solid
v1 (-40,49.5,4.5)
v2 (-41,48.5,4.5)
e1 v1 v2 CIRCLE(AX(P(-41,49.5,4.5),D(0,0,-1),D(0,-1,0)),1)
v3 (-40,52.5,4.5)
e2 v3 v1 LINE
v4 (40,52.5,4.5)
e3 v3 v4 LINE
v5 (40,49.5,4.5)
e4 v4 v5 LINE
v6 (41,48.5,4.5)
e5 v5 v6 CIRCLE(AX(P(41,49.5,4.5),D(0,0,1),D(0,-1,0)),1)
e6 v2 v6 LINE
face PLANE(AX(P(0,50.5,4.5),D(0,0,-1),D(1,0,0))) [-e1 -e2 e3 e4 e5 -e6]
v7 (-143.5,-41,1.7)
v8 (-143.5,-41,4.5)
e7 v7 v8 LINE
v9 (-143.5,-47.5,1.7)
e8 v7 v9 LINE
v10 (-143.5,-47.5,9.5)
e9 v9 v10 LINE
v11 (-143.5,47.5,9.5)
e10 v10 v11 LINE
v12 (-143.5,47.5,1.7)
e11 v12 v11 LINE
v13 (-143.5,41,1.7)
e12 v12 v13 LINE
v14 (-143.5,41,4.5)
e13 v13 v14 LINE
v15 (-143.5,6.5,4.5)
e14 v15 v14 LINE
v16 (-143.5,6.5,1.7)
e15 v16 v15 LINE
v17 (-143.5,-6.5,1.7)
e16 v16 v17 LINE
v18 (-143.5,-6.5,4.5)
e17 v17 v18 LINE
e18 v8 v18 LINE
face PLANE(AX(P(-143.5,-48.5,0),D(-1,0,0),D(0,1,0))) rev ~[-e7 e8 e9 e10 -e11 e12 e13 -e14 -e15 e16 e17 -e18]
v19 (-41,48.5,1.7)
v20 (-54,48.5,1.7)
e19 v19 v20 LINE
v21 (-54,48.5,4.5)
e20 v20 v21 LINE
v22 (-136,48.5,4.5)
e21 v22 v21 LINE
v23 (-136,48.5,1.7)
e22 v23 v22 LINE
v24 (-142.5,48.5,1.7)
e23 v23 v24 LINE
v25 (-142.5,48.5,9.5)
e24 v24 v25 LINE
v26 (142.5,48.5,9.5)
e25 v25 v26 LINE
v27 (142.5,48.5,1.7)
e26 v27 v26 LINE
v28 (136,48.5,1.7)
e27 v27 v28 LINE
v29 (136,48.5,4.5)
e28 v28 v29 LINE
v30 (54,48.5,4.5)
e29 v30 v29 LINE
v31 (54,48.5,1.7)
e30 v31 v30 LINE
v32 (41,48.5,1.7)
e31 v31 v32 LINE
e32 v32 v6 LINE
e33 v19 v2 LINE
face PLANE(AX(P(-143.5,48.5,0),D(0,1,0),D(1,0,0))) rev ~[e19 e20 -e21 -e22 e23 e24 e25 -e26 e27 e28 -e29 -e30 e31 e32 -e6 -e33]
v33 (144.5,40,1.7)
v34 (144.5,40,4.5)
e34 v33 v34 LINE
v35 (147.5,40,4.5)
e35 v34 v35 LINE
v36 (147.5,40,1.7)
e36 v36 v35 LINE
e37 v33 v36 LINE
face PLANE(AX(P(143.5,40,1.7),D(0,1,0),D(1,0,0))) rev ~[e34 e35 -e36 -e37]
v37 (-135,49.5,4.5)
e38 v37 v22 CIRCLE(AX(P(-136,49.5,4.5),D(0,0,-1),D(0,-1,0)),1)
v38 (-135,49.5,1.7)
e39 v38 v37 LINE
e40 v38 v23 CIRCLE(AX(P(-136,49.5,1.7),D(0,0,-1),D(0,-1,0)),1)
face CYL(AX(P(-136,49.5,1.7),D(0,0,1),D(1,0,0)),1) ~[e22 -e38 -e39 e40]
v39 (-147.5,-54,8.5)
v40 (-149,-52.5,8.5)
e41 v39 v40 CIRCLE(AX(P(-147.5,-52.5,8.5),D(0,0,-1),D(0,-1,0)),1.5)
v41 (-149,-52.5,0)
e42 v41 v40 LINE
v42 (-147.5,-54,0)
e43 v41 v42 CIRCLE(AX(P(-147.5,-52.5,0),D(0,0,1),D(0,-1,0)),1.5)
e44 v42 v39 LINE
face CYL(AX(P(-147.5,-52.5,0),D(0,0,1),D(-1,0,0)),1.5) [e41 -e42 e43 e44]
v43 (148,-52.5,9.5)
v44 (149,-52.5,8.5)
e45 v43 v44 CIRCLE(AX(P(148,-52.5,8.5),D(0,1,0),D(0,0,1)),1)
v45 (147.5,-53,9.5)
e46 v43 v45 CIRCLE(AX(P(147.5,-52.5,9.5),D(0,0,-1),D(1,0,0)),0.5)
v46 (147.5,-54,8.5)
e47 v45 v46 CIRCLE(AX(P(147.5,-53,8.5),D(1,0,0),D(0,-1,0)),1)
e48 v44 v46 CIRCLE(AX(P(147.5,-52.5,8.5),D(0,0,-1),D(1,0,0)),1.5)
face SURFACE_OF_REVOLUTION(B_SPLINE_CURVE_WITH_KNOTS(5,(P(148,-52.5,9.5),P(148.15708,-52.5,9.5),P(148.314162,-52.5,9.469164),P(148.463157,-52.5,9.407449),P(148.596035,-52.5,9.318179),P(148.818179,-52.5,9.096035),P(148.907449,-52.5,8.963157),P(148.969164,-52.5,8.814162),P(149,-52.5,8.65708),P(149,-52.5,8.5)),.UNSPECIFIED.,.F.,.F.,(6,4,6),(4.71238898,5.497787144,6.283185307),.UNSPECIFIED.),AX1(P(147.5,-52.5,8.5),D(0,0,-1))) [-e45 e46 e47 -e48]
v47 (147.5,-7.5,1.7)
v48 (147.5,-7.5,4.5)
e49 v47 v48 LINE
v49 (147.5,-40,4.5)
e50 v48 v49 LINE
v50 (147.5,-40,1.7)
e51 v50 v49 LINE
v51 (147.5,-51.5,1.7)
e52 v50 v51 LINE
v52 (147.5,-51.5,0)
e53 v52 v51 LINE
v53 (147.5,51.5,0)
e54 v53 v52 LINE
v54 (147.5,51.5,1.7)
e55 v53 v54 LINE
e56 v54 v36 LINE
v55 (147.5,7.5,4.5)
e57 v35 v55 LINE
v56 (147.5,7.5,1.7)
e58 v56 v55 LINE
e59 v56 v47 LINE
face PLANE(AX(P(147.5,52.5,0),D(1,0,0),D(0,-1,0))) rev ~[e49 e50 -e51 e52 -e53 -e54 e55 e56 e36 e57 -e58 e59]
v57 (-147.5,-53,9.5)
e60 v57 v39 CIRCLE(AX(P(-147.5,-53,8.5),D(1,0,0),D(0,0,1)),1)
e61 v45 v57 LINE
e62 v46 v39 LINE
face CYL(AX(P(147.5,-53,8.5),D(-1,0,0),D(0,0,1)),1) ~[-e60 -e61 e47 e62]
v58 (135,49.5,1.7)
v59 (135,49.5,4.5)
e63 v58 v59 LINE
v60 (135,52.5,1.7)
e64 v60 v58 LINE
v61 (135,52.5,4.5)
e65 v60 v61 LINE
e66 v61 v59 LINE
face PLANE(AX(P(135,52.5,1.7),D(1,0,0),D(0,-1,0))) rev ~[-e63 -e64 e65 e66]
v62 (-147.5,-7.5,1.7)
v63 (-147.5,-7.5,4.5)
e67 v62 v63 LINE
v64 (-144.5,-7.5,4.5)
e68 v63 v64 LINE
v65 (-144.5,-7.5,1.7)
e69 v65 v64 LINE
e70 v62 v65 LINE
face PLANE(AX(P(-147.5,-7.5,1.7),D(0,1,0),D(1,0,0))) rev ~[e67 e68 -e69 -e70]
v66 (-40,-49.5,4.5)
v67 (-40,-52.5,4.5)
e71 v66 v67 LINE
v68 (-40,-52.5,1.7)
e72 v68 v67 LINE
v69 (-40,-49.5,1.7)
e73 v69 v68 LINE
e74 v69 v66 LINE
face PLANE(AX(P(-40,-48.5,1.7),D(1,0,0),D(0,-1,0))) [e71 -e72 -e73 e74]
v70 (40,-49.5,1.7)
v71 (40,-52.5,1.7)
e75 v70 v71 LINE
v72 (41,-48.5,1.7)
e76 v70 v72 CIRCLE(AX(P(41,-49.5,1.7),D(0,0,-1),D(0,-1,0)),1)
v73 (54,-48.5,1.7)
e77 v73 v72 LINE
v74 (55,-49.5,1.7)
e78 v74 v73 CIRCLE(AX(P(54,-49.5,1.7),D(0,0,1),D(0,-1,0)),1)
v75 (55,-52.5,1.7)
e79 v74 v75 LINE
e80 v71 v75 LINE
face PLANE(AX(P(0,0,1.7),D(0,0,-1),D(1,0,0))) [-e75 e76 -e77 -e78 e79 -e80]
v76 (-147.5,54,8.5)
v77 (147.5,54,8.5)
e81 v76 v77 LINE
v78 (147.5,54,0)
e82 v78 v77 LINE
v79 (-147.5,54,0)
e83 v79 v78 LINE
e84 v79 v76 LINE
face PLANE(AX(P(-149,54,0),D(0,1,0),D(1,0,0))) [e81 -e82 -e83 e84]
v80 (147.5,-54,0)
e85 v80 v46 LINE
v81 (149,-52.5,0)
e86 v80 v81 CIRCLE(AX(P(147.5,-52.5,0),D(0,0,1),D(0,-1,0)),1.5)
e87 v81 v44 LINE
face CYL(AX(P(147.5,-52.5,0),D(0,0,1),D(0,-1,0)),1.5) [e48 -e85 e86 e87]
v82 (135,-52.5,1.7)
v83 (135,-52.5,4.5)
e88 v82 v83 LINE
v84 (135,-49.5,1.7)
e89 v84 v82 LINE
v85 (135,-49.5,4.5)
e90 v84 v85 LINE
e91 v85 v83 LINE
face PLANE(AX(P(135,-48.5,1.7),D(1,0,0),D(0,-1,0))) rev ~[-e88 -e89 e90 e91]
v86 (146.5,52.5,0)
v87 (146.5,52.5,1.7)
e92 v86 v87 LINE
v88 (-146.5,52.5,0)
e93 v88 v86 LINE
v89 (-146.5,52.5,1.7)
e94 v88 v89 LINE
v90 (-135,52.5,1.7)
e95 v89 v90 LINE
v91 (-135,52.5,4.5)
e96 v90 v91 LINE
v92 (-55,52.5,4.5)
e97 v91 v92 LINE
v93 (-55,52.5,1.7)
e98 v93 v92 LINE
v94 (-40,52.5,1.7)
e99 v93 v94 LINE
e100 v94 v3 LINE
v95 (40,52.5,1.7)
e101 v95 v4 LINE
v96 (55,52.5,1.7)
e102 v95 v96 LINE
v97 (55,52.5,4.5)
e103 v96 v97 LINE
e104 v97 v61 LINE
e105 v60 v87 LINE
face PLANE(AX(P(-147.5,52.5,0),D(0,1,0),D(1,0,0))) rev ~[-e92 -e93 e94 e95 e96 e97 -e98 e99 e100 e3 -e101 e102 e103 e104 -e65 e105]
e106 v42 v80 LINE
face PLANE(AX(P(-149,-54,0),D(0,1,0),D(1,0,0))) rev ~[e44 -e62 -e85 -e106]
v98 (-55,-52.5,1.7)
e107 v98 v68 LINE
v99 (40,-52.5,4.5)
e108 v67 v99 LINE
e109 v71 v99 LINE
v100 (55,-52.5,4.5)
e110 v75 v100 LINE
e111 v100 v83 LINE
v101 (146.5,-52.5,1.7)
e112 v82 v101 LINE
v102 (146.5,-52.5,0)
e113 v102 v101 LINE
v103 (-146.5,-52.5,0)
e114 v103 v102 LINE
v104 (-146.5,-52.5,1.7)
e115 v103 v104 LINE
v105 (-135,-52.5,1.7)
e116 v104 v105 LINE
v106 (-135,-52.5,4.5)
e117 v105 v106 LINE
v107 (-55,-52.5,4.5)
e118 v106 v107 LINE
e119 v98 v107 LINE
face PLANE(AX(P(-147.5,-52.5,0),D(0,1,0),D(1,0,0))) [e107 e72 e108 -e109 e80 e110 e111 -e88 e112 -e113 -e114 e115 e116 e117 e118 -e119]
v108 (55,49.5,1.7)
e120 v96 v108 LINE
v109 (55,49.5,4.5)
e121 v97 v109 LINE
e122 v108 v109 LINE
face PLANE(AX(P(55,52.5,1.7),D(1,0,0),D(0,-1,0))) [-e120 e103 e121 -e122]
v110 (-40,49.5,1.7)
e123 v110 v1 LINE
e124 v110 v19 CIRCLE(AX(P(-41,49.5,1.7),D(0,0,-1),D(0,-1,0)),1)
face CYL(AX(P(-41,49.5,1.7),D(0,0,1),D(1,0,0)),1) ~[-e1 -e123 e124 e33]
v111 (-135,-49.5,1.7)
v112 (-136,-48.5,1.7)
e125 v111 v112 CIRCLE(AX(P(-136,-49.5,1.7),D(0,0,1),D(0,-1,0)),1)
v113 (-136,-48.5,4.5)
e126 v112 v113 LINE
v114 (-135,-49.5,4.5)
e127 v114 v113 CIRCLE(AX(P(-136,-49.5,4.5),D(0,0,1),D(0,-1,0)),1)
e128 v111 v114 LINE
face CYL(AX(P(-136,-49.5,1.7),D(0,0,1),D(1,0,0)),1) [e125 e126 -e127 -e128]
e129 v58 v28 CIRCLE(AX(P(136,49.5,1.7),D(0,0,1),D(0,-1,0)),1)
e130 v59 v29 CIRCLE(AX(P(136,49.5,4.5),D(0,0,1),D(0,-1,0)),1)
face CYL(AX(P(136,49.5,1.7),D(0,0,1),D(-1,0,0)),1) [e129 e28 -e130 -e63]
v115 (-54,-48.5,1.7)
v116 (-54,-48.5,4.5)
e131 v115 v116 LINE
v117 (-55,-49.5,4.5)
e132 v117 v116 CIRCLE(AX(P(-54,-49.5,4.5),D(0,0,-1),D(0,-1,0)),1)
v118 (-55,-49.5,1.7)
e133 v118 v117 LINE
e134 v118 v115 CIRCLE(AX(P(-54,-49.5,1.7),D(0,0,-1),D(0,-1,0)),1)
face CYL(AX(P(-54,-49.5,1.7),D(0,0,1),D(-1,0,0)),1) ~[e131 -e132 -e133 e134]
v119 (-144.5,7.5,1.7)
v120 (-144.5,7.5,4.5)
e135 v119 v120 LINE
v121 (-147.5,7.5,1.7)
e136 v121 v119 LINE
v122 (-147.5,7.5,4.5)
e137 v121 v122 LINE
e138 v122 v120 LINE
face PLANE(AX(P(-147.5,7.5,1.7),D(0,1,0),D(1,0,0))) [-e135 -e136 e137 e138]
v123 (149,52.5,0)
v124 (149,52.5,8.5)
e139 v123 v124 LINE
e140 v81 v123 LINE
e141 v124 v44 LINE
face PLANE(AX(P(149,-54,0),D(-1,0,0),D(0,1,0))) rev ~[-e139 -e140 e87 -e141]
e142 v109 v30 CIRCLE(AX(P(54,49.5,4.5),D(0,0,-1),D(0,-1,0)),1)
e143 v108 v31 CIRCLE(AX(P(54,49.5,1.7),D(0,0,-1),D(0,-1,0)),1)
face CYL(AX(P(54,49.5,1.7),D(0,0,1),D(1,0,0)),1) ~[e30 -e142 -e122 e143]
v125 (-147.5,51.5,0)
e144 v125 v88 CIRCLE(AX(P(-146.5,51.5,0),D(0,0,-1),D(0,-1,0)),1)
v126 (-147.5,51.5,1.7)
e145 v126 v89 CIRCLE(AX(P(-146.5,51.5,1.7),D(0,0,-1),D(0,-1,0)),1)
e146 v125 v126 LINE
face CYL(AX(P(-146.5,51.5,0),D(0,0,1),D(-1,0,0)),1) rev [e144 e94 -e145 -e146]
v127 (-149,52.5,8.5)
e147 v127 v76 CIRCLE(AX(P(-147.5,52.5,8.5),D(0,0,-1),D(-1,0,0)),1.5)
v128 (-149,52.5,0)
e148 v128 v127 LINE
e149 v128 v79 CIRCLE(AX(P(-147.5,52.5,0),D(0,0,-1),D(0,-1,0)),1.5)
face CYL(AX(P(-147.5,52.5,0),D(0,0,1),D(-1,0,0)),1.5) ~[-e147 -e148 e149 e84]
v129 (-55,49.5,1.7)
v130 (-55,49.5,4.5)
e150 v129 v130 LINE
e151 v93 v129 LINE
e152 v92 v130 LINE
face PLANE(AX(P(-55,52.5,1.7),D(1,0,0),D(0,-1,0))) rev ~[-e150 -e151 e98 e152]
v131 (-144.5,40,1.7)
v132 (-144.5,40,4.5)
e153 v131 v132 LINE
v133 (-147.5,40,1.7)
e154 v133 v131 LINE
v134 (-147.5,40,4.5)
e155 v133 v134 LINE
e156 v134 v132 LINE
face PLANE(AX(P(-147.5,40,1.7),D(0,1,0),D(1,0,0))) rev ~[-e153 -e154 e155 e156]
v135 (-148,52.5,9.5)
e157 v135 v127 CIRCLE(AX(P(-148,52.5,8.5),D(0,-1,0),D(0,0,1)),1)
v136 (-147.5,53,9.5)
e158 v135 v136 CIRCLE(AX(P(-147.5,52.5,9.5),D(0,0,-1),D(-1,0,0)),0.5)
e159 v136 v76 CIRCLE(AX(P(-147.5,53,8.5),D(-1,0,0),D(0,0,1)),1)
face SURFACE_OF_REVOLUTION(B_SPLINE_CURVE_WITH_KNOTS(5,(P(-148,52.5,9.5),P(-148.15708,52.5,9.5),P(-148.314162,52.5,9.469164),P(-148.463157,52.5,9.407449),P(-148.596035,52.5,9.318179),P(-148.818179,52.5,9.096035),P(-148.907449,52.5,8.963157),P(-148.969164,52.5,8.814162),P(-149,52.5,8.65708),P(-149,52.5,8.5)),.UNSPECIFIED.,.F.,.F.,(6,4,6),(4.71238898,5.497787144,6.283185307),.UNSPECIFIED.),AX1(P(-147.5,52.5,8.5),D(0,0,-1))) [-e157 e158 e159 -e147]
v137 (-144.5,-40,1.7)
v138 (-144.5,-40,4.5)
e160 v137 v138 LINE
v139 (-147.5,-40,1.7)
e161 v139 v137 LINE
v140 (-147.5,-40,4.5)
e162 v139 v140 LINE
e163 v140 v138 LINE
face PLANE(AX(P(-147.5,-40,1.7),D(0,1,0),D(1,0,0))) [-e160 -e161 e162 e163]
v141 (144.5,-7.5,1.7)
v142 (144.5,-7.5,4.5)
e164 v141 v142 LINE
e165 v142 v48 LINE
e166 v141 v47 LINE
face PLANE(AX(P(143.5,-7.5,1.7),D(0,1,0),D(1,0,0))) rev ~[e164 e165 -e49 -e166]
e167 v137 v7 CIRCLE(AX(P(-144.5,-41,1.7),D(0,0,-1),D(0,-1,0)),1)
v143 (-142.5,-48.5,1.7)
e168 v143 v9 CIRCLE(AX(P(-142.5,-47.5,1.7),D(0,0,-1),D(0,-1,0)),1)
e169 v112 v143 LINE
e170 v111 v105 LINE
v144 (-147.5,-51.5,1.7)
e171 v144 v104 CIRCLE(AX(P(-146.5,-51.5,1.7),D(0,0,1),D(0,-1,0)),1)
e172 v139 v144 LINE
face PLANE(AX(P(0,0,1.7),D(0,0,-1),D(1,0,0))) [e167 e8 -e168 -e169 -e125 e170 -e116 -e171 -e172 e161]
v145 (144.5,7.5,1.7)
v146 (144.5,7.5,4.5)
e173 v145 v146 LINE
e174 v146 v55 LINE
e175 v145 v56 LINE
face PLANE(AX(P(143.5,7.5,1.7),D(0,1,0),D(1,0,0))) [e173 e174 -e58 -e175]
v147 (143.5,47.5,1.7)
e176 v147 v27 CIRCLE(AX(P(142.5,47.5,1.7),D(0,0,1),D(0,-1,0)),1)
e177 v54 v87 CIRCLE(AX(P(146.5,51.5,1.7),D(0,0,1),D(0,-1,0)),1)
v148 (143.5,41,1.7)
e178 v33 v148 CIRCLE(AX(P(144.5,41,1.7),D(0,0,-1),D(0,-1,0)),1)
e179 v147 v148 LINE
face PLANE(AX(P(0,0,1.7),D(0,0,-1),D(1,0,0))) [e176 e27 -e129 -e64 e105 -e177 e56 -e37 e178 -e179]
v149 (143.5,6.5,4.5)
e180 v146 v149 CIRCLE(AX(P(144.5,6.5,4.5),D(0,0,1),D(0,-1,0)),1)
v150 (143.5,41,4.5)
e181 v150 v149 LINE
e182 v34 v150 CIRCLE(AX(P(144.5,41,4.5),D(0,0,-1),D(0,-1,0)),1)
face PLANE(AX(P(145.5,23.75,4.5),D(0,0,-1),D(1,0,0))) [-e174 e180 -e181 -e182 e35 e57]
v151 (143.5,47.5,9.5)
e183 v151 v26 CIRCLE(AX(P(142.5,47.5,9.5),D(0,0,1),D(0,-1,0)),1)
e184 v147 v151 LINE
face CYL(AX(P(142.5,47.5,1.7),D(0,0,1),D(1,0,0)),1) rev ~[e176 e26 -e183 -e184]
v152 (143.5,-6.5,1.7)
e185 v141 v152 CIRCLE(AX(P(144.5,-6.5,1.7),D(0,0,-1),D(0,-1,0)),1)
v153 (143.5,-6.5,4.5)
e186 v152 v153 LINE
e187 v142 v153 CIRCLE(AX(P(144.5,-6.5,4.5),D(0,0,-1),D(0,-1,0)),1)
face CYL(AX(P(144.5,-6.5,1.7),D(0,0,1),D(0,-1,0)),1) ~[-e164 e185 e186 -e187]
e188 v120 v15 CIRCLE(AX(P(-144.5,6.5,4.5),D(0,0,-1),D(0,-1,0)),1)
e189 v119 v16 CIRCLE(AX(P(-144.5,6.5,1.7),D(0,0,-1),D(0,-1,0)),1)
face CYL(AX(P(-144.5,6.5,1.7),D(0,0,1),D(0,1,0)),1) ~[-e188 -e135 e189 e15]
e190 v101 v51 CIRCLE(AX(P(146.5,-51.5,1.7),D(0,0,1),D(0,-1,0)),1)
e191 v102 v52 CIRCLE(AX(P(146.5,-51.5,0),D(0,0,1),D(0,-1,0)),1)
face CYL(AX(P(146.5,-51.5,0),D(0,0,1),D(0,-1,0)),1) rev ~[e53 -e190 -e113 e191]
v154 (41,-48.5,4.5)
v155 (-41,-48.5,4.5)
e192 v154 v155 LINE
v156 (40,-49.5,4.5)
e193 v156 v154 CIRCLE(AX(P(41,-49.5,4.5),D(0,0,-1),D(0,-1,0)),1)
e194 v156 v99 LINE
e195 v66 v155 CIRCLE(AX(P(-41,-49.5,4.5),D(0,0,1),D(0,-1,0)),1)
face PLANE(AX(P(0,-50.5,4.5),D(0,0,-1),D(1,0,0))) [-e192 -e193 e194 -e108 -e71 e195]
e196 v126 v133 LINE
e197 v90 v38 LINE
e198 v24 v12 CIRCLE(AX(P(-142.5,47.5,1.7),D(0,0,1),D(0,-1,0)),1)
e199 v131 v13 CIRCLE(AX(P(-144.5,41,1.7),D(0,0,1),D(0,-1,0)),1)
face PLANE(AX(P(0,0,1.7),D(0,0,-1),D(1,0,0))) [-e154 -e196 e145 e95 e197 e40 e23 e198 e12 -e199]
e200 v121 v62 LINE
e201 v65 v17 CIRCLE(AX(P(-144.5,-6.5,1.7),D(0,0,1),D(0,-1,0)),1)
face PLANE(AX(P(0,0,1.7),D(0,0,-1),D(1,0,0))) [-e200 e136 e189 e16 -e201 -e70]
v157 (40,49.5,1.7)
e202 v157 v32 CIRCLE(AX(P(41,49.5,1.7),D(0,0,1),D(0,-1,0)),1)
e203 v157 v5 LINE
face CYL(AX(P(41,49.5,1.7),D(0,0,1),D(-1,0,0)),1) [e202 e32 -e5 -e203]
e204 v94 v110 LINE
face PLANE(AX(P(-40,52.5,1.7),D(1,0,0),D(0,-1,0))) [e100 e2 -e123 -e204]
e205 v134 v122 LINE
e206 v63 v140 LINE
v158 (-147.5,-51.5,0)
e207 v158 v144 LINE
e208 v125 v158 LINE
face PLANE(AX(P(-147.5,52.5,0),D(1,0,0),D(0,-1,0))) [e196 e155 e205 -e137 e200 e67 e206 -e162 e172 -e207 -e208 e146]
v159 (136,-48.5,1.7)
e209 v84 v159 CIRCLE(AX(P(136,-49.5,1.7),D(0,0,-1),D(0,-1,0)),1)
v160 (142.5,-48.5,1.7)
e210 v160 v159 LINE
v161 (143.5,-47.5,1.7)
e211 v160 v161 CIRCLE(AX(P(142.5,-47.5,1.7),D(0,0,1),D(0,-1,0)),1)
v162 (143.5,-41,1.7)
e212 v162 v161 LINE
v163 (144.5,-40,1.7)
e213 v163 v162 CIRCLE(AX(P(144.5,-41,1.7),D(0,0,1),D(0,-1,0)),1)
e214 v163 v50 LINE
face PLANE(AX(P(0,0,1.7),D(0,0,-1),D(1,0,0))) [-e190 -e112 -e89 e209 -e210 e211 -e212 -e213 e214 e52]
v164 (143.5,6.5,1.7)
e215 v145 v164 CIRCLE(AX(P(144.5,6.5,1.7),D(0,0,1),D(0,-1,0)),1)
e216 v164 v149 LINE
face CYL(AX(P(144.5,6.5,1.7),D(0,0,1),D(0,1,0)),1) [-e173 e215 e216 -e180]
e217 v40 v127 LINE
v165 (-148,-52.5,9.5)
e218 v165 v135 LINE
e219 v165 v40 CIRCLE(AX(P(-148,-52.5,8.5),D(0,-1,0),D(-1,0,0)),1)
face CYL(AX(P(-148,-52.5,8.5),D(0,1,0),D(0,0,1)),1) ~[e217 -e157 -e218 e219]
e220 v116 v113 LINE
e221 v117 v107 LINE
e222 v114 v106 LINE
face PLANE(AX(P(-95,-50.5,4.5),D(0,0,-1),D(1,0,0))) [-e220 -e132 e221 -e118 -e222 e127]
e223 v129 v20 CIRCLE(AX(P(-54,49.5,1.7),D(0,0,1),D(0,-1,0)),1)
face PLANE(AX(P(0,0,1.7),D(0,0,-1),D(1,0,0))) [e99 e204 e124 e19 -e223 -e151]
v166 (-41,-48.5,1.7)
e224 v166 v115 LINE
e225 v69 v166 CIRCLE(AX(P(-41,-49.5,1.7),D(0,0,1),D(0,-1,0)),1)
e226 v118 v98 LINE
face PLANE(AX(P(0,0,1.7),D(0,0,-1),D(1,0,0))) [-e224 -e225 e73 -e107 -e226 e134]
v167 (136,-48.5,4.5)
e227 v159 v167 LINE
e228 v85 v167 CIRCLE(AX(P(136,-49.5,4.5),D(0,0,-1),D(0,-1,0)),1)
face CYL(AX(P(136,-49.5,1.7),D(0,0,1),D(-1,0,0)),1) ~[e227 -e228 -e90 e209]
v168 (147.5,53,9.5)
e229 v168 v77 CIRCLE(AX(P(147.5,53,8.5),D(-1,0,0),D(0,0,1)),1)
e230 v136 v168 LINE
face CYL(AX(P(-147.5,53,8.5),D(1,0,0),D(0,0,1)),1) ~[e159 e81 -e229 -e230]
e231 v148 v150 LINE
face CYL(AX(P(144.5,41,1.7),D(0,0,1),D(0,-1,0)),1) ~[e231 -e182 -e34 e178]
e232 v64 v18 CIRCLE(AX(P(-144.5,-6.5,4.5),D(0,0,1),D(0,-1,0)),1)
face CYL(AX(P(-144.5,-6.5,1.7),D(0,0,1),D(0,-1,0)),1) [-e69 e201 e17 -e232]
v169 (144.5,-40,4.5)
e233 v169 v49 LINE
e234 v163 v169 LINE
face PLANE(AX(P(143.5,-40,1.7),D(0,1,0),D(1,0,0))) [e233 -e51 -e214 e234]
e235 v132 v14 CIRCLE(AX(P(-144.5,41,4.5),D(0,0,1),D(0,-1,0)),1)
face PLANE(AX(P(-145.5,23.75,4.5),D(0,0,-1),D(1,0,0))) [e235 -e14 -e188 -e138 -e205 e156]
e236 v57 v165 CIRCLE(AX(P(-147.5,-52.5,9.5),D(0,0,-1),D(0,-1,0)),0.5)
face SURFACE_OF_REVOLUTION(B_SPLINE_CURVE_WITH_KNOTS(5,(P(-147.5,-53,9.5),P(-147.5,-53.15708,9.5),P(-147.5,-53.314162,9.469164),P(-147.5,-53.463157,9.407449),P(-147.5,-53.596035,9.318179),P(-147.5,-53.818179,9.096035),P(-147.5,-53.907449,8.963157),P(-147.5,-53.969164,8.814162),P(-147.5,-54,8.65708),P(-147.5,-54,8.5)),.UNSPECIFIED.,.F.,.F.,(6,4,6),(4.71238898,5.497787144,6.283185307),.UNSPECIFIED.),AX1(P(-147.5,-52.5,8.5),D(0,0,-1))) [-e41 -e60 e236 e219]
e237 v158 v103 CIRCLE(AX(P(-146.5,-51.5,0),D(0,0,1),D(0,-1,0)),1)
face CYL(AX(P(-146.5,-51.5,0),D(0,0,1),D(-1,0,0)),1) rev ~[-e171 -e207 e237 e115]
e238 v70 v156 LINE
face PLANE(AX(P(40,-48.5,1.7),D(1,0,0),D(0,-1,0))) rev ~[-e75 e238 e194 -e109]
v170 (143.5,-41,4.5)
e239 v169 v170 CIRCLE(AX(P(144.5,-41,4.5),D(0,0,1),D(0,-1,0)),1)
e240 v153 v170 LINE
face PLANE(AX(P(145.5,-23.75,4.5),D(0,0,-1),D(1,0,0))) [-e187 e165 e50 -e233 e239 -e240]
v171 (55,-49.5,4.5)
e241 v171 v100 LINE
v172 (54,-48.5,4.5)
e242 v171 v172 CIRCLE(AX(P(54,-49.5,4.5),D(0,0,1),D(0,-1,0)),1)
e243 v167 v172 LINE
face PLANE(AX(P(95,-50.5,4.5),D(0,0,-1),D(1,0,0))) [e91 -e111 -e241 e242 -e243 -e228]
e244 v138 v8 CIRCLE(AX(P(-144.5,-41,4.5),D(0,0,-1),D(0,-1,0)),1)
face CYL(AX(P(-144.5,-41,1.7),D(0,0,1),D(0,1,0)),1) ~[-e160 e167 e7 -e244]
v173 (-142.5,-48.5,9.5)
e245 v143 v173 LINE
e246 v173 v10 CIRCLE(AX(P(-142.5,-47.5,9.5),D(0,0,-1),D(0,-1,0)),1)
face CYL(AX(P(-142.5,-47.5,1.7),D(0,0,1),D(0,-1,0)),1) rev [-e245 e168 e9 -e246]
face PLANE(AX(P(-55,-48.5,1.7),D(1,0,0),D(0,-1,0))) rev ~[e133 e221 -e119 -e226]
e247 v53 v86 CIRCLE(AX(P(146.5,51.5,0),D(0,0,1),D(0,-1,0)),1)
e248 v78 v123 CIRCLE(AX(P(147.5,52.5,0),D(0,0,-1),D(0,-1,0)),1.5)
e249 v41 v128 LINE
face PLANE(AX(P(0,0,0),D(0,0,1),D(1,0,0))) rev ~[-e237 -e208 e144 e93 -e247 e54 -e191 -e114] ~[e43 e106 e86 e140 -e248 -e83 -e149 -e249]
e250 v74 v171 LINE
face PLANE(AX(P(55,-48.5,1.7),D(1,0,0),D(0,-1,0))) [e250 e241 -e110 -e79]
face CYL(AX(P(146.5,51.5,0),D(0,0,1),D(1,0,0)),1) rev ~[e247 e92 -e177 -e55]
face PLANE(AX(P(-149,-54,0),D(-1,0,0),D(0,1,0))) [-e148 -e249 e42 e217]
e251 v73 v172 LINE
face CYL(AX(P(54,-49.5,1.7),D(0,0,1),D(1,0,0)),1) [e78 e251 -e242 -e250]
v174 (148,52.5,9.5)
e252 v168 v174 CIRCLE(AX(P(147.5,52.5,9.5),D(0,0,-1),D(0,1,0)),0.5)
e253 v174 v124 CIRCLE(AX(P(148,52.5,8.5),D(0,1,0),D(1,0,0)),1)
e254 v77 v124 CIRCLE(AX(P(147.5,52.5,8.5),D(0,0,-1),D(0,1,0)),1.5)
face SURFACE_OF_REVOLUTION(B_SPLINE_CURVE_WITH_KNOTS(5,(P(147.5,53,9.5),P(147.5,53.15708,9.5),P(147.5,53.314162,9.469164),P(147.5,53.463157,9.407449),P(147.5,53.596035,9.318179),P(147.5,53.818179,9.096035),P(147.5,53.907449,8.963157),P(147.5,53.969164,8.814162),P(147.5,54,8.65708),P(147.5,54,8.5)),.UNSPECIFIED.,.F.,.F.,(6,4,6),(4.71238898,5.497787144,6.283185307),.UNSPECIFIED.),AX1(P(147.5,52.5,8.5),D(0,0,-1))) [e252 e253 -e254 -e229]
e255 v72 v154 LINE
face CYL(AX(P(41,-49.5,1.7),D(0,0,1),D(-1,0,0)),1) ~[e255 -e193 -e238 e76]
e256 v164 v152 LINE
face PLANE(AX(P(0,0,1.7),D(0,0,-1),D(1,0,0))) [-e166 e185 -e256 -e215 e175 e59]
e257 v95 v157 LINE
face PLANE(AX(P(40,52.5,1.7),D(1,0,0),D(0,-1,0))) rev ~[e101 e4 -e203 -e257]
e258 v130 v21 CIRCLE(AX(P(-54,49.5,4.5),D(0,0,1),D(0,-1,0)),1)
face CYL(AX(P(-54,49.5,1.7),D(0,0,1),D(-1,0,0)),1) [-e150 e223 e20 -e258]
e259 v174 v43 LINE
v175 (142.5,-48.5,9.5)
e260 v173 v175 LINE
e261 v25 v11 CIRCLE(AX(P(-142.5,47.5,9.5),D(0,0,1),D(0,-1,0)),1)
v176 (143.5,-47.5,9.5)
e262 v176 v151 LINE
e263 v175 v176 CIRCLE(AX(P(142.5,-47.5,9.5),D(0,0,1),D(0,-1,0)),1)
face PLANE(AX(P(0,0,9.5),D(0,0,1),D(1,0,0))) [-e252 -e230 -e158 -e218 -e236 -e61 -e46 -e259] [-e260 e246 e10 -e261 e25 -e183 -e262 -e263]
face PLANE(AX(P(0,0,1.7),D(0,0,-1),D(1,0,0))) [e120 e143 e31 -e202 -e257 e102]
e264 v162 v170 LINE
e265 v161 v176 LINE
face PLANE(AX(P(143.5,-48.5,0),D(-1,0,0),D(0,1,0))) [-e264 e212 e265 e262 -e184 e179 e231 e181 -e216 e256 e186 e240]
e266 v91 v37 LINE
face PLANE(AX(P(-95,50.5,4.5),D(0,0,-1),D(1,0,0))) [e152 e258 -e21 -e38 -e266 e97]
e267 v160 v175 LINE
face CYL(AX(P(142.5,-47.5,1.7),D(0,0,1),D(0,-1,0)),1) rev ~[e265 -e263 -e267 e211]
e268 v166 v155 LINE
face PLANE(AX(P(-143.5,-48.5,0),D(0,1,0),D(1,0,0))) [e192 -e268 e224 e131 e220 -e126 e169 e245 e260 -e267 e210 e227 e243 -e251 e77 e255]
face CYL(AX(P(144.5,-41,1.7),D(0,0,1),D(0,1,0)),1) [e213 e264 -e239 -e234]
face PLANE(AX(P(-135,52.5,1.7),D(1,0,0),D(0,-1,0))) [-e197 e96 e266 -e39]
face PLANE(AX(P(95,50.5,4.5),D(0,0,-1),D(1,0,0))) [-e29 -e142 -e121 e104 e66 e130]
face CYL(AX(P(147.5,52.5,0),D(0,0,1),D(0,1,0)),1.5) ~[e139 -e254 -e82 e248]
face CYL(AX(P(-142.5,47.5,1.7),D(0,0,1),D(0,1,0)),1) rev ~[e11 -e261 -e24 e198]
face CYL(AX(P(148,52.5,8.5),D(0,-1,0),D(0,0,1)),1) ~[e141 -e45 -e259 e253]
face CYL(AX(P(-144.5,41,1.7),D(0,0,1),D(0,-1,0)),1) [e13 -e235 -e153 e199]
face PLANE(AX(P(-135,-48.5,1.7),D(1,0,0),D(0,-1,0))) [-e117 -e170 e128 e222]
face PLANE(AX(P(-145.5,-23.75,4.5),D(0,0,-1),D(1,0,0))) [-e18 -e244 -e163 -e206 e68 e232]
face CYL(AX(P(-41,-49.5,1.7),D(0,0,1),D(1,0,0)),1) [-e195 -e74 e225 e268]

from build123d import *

# Parameters (mm, degrees)
SKETCH001_W     = 298
SKETCH001_H     = 108
SKETCH001_W_2   = 287
SKETCH001_H_2   = 97
PAD_DEPTH       = 9.5
SKETCH002_W     = 295
SKETCH002_H     = 105
POCKET_DEPTH    = 1.7
SKETCH003_W     = 80
SKETCH003_H     = 4
POCKET001_DEPTH = 2.8
SKETCH004_W     = 4
SKETCH004_H     = 32.5
POCKET002_DEPTH = 2.8
FILLET_R        = 1.5
FILLET001_R     = 1
FILLET002_R     = 1
FILLET003_R     = 1
FILLET004_R     = 1


with BuildPart() as part:
    # Sketch001 → Pad (new body)
    with BuildSketch(Plane.XY):
        Rectangle(SKETCH001_W, SKETCH001_H)
        Rectangle(SKETCH001_W_2, SKETCH001_H_2, mode=Mode.SUBTRACT)
    extrude(amount=PAD_DEPTH)

    # Sketch002 (on Face9 of Pad) → Pocket (cut)
    with BuildSketch(Plane(origin=(0, 0, 0), x_dir=(1, 0, 0), z_dir=(0, 0, -1))):
        Rectangle(SKETCH002_W, SKETCH002_H)
    extrude(amount=-POCKET_DEPTH, mode=Mode.SUBTRACT)

    # Sketch003 (on Face15 of Pocket) → Pocket001 (cut)
    with BuildSketch(Plane(origin=(0, 0, 1.7), x_dir=(1, 0, 0), z_dir=(0, 0, -1))):
        with Locations((-95, 50.5)):
            Rectangle(SKETCH003_W, SKETCH003_H)
        with Locations((0, 50.5)):
            Rectangle(SKETCH003_W, SKETCH003_H)
        with Locations((95, 50.5)):
            Rectangle(SKETCH003_W, SKETCH003_H)
        with Locations((-95, -50.5)):
            Rectangle(SKETCH003_W, SKETCH003_H)
        with Locations((0, -50.5)):
            Rectangle(SKETCH003_W, SKETCH003_H)
        with Locations((95, -50.5)):
            Rectangle(SKETCH003_W, SKETCH003_H)
    extrude(amount=-POCKET001_DEPTH, mode=Mode.SUBTRACT)

    # Sketch004 (on Face15 of Pocket001) → Pocket002 (cut)
    with BuildSketch(Plane(origin=(0, 0, 1.7), x_dir=(1, 0, 0), z_dir=(0, 0, -1))):
        with Locations((145.5, 23.75)):
            Rectangle(SKETCH004_W, SKETCH004_H)
        with Locations((145.5, -23.75)):
            Rectangle(SKETCH004_W, SKETCH004_H)
        with Locations((-145.5, 23.75)):
            Rectangle(SKETCH004_W, SKETCH004_H)
        with Locations((-145.5, -23.75)):
            Rectangle(SKETCH004_W, SKETCH004_H)
    extrude(amount=-POCKET002_DEPTH, mode=Mode.SUBTRACT)

    # Fillet
    fillet_edges = [part.edges().sort_by_distance(p)[0] for p in [
        (149, -54, 4.75),
        (-149, -54, 4.75),
        (-149, 54, 4.75),
        (149, 54, 4.75),
    ]]
    fillet(fillet_edges, radius=FILLET_R)

    # Fillet001
    fillet001_edges = [part.edges().sort_by_distance(p)[0] for p in [
        (0, 54, 9.5),
    ]]
    fillet(fillet001_edges, radius=FILLET001_R)

    # Fillet002
    fillet002_edges = [part.edges().sort_by_distance(p)[0] for p in [
        (-147.5, 52.5, 0.85),
        (-147.5, -52.5, 0.85),
        (147.5, -52.5, 0.85),
        (147.5, 52.5, 0.85),
    ]]
    fillet(fillet002_edges, radius=FILLET002_R)

    # Fillet003
    fillet003_edges = [part.edges().sort_by_distance(p)[0] for p in [
        (143.5, 40, 3.1),
        (135, 48.5, 3.1),
        (55, 48.5, 3.1),
        (40, 48.5, 3.1),
        (-55, 48.5, 3.1),
        (-40, 48.5, 3.1),
        (-135, 48.5, 3.1),
        (-143.5, 40, 3.1),
        (-143.5, -7.5, 3.1),
        (143.5, -7.5, 3.1),
        (143.5, 7.5, 3.1),
        (143.5, -40, 3.1),
        (135, -48.5, 3.1),
        (40, -48.5, 3.1),
        (-55, -48.5, 3.1),
        (-143.5, 7.5, 3.1),
        (-143.5, -40, 3.1),
        (-135, -48.5, 3.1),
        (-40, -48.5, 3.1),
        (55, -48.5, 3.1),
    ]]
    fillet(fillet003_edges, radius=FILLET003_R)

    # Fillet004
    fillet004_edges = [part.edges().sort_by_distance(p)[0] for p in [
        (-143.5, -48.5, 5.6),
        (143.5, 48.5, 5.6),
        (143.5, -48.5, 5.6),
        (-143.5, 48.5, 5.6),
    ]]
    fillet(fillet004_edges, radius=FILLET004_R)


solid = part.part
